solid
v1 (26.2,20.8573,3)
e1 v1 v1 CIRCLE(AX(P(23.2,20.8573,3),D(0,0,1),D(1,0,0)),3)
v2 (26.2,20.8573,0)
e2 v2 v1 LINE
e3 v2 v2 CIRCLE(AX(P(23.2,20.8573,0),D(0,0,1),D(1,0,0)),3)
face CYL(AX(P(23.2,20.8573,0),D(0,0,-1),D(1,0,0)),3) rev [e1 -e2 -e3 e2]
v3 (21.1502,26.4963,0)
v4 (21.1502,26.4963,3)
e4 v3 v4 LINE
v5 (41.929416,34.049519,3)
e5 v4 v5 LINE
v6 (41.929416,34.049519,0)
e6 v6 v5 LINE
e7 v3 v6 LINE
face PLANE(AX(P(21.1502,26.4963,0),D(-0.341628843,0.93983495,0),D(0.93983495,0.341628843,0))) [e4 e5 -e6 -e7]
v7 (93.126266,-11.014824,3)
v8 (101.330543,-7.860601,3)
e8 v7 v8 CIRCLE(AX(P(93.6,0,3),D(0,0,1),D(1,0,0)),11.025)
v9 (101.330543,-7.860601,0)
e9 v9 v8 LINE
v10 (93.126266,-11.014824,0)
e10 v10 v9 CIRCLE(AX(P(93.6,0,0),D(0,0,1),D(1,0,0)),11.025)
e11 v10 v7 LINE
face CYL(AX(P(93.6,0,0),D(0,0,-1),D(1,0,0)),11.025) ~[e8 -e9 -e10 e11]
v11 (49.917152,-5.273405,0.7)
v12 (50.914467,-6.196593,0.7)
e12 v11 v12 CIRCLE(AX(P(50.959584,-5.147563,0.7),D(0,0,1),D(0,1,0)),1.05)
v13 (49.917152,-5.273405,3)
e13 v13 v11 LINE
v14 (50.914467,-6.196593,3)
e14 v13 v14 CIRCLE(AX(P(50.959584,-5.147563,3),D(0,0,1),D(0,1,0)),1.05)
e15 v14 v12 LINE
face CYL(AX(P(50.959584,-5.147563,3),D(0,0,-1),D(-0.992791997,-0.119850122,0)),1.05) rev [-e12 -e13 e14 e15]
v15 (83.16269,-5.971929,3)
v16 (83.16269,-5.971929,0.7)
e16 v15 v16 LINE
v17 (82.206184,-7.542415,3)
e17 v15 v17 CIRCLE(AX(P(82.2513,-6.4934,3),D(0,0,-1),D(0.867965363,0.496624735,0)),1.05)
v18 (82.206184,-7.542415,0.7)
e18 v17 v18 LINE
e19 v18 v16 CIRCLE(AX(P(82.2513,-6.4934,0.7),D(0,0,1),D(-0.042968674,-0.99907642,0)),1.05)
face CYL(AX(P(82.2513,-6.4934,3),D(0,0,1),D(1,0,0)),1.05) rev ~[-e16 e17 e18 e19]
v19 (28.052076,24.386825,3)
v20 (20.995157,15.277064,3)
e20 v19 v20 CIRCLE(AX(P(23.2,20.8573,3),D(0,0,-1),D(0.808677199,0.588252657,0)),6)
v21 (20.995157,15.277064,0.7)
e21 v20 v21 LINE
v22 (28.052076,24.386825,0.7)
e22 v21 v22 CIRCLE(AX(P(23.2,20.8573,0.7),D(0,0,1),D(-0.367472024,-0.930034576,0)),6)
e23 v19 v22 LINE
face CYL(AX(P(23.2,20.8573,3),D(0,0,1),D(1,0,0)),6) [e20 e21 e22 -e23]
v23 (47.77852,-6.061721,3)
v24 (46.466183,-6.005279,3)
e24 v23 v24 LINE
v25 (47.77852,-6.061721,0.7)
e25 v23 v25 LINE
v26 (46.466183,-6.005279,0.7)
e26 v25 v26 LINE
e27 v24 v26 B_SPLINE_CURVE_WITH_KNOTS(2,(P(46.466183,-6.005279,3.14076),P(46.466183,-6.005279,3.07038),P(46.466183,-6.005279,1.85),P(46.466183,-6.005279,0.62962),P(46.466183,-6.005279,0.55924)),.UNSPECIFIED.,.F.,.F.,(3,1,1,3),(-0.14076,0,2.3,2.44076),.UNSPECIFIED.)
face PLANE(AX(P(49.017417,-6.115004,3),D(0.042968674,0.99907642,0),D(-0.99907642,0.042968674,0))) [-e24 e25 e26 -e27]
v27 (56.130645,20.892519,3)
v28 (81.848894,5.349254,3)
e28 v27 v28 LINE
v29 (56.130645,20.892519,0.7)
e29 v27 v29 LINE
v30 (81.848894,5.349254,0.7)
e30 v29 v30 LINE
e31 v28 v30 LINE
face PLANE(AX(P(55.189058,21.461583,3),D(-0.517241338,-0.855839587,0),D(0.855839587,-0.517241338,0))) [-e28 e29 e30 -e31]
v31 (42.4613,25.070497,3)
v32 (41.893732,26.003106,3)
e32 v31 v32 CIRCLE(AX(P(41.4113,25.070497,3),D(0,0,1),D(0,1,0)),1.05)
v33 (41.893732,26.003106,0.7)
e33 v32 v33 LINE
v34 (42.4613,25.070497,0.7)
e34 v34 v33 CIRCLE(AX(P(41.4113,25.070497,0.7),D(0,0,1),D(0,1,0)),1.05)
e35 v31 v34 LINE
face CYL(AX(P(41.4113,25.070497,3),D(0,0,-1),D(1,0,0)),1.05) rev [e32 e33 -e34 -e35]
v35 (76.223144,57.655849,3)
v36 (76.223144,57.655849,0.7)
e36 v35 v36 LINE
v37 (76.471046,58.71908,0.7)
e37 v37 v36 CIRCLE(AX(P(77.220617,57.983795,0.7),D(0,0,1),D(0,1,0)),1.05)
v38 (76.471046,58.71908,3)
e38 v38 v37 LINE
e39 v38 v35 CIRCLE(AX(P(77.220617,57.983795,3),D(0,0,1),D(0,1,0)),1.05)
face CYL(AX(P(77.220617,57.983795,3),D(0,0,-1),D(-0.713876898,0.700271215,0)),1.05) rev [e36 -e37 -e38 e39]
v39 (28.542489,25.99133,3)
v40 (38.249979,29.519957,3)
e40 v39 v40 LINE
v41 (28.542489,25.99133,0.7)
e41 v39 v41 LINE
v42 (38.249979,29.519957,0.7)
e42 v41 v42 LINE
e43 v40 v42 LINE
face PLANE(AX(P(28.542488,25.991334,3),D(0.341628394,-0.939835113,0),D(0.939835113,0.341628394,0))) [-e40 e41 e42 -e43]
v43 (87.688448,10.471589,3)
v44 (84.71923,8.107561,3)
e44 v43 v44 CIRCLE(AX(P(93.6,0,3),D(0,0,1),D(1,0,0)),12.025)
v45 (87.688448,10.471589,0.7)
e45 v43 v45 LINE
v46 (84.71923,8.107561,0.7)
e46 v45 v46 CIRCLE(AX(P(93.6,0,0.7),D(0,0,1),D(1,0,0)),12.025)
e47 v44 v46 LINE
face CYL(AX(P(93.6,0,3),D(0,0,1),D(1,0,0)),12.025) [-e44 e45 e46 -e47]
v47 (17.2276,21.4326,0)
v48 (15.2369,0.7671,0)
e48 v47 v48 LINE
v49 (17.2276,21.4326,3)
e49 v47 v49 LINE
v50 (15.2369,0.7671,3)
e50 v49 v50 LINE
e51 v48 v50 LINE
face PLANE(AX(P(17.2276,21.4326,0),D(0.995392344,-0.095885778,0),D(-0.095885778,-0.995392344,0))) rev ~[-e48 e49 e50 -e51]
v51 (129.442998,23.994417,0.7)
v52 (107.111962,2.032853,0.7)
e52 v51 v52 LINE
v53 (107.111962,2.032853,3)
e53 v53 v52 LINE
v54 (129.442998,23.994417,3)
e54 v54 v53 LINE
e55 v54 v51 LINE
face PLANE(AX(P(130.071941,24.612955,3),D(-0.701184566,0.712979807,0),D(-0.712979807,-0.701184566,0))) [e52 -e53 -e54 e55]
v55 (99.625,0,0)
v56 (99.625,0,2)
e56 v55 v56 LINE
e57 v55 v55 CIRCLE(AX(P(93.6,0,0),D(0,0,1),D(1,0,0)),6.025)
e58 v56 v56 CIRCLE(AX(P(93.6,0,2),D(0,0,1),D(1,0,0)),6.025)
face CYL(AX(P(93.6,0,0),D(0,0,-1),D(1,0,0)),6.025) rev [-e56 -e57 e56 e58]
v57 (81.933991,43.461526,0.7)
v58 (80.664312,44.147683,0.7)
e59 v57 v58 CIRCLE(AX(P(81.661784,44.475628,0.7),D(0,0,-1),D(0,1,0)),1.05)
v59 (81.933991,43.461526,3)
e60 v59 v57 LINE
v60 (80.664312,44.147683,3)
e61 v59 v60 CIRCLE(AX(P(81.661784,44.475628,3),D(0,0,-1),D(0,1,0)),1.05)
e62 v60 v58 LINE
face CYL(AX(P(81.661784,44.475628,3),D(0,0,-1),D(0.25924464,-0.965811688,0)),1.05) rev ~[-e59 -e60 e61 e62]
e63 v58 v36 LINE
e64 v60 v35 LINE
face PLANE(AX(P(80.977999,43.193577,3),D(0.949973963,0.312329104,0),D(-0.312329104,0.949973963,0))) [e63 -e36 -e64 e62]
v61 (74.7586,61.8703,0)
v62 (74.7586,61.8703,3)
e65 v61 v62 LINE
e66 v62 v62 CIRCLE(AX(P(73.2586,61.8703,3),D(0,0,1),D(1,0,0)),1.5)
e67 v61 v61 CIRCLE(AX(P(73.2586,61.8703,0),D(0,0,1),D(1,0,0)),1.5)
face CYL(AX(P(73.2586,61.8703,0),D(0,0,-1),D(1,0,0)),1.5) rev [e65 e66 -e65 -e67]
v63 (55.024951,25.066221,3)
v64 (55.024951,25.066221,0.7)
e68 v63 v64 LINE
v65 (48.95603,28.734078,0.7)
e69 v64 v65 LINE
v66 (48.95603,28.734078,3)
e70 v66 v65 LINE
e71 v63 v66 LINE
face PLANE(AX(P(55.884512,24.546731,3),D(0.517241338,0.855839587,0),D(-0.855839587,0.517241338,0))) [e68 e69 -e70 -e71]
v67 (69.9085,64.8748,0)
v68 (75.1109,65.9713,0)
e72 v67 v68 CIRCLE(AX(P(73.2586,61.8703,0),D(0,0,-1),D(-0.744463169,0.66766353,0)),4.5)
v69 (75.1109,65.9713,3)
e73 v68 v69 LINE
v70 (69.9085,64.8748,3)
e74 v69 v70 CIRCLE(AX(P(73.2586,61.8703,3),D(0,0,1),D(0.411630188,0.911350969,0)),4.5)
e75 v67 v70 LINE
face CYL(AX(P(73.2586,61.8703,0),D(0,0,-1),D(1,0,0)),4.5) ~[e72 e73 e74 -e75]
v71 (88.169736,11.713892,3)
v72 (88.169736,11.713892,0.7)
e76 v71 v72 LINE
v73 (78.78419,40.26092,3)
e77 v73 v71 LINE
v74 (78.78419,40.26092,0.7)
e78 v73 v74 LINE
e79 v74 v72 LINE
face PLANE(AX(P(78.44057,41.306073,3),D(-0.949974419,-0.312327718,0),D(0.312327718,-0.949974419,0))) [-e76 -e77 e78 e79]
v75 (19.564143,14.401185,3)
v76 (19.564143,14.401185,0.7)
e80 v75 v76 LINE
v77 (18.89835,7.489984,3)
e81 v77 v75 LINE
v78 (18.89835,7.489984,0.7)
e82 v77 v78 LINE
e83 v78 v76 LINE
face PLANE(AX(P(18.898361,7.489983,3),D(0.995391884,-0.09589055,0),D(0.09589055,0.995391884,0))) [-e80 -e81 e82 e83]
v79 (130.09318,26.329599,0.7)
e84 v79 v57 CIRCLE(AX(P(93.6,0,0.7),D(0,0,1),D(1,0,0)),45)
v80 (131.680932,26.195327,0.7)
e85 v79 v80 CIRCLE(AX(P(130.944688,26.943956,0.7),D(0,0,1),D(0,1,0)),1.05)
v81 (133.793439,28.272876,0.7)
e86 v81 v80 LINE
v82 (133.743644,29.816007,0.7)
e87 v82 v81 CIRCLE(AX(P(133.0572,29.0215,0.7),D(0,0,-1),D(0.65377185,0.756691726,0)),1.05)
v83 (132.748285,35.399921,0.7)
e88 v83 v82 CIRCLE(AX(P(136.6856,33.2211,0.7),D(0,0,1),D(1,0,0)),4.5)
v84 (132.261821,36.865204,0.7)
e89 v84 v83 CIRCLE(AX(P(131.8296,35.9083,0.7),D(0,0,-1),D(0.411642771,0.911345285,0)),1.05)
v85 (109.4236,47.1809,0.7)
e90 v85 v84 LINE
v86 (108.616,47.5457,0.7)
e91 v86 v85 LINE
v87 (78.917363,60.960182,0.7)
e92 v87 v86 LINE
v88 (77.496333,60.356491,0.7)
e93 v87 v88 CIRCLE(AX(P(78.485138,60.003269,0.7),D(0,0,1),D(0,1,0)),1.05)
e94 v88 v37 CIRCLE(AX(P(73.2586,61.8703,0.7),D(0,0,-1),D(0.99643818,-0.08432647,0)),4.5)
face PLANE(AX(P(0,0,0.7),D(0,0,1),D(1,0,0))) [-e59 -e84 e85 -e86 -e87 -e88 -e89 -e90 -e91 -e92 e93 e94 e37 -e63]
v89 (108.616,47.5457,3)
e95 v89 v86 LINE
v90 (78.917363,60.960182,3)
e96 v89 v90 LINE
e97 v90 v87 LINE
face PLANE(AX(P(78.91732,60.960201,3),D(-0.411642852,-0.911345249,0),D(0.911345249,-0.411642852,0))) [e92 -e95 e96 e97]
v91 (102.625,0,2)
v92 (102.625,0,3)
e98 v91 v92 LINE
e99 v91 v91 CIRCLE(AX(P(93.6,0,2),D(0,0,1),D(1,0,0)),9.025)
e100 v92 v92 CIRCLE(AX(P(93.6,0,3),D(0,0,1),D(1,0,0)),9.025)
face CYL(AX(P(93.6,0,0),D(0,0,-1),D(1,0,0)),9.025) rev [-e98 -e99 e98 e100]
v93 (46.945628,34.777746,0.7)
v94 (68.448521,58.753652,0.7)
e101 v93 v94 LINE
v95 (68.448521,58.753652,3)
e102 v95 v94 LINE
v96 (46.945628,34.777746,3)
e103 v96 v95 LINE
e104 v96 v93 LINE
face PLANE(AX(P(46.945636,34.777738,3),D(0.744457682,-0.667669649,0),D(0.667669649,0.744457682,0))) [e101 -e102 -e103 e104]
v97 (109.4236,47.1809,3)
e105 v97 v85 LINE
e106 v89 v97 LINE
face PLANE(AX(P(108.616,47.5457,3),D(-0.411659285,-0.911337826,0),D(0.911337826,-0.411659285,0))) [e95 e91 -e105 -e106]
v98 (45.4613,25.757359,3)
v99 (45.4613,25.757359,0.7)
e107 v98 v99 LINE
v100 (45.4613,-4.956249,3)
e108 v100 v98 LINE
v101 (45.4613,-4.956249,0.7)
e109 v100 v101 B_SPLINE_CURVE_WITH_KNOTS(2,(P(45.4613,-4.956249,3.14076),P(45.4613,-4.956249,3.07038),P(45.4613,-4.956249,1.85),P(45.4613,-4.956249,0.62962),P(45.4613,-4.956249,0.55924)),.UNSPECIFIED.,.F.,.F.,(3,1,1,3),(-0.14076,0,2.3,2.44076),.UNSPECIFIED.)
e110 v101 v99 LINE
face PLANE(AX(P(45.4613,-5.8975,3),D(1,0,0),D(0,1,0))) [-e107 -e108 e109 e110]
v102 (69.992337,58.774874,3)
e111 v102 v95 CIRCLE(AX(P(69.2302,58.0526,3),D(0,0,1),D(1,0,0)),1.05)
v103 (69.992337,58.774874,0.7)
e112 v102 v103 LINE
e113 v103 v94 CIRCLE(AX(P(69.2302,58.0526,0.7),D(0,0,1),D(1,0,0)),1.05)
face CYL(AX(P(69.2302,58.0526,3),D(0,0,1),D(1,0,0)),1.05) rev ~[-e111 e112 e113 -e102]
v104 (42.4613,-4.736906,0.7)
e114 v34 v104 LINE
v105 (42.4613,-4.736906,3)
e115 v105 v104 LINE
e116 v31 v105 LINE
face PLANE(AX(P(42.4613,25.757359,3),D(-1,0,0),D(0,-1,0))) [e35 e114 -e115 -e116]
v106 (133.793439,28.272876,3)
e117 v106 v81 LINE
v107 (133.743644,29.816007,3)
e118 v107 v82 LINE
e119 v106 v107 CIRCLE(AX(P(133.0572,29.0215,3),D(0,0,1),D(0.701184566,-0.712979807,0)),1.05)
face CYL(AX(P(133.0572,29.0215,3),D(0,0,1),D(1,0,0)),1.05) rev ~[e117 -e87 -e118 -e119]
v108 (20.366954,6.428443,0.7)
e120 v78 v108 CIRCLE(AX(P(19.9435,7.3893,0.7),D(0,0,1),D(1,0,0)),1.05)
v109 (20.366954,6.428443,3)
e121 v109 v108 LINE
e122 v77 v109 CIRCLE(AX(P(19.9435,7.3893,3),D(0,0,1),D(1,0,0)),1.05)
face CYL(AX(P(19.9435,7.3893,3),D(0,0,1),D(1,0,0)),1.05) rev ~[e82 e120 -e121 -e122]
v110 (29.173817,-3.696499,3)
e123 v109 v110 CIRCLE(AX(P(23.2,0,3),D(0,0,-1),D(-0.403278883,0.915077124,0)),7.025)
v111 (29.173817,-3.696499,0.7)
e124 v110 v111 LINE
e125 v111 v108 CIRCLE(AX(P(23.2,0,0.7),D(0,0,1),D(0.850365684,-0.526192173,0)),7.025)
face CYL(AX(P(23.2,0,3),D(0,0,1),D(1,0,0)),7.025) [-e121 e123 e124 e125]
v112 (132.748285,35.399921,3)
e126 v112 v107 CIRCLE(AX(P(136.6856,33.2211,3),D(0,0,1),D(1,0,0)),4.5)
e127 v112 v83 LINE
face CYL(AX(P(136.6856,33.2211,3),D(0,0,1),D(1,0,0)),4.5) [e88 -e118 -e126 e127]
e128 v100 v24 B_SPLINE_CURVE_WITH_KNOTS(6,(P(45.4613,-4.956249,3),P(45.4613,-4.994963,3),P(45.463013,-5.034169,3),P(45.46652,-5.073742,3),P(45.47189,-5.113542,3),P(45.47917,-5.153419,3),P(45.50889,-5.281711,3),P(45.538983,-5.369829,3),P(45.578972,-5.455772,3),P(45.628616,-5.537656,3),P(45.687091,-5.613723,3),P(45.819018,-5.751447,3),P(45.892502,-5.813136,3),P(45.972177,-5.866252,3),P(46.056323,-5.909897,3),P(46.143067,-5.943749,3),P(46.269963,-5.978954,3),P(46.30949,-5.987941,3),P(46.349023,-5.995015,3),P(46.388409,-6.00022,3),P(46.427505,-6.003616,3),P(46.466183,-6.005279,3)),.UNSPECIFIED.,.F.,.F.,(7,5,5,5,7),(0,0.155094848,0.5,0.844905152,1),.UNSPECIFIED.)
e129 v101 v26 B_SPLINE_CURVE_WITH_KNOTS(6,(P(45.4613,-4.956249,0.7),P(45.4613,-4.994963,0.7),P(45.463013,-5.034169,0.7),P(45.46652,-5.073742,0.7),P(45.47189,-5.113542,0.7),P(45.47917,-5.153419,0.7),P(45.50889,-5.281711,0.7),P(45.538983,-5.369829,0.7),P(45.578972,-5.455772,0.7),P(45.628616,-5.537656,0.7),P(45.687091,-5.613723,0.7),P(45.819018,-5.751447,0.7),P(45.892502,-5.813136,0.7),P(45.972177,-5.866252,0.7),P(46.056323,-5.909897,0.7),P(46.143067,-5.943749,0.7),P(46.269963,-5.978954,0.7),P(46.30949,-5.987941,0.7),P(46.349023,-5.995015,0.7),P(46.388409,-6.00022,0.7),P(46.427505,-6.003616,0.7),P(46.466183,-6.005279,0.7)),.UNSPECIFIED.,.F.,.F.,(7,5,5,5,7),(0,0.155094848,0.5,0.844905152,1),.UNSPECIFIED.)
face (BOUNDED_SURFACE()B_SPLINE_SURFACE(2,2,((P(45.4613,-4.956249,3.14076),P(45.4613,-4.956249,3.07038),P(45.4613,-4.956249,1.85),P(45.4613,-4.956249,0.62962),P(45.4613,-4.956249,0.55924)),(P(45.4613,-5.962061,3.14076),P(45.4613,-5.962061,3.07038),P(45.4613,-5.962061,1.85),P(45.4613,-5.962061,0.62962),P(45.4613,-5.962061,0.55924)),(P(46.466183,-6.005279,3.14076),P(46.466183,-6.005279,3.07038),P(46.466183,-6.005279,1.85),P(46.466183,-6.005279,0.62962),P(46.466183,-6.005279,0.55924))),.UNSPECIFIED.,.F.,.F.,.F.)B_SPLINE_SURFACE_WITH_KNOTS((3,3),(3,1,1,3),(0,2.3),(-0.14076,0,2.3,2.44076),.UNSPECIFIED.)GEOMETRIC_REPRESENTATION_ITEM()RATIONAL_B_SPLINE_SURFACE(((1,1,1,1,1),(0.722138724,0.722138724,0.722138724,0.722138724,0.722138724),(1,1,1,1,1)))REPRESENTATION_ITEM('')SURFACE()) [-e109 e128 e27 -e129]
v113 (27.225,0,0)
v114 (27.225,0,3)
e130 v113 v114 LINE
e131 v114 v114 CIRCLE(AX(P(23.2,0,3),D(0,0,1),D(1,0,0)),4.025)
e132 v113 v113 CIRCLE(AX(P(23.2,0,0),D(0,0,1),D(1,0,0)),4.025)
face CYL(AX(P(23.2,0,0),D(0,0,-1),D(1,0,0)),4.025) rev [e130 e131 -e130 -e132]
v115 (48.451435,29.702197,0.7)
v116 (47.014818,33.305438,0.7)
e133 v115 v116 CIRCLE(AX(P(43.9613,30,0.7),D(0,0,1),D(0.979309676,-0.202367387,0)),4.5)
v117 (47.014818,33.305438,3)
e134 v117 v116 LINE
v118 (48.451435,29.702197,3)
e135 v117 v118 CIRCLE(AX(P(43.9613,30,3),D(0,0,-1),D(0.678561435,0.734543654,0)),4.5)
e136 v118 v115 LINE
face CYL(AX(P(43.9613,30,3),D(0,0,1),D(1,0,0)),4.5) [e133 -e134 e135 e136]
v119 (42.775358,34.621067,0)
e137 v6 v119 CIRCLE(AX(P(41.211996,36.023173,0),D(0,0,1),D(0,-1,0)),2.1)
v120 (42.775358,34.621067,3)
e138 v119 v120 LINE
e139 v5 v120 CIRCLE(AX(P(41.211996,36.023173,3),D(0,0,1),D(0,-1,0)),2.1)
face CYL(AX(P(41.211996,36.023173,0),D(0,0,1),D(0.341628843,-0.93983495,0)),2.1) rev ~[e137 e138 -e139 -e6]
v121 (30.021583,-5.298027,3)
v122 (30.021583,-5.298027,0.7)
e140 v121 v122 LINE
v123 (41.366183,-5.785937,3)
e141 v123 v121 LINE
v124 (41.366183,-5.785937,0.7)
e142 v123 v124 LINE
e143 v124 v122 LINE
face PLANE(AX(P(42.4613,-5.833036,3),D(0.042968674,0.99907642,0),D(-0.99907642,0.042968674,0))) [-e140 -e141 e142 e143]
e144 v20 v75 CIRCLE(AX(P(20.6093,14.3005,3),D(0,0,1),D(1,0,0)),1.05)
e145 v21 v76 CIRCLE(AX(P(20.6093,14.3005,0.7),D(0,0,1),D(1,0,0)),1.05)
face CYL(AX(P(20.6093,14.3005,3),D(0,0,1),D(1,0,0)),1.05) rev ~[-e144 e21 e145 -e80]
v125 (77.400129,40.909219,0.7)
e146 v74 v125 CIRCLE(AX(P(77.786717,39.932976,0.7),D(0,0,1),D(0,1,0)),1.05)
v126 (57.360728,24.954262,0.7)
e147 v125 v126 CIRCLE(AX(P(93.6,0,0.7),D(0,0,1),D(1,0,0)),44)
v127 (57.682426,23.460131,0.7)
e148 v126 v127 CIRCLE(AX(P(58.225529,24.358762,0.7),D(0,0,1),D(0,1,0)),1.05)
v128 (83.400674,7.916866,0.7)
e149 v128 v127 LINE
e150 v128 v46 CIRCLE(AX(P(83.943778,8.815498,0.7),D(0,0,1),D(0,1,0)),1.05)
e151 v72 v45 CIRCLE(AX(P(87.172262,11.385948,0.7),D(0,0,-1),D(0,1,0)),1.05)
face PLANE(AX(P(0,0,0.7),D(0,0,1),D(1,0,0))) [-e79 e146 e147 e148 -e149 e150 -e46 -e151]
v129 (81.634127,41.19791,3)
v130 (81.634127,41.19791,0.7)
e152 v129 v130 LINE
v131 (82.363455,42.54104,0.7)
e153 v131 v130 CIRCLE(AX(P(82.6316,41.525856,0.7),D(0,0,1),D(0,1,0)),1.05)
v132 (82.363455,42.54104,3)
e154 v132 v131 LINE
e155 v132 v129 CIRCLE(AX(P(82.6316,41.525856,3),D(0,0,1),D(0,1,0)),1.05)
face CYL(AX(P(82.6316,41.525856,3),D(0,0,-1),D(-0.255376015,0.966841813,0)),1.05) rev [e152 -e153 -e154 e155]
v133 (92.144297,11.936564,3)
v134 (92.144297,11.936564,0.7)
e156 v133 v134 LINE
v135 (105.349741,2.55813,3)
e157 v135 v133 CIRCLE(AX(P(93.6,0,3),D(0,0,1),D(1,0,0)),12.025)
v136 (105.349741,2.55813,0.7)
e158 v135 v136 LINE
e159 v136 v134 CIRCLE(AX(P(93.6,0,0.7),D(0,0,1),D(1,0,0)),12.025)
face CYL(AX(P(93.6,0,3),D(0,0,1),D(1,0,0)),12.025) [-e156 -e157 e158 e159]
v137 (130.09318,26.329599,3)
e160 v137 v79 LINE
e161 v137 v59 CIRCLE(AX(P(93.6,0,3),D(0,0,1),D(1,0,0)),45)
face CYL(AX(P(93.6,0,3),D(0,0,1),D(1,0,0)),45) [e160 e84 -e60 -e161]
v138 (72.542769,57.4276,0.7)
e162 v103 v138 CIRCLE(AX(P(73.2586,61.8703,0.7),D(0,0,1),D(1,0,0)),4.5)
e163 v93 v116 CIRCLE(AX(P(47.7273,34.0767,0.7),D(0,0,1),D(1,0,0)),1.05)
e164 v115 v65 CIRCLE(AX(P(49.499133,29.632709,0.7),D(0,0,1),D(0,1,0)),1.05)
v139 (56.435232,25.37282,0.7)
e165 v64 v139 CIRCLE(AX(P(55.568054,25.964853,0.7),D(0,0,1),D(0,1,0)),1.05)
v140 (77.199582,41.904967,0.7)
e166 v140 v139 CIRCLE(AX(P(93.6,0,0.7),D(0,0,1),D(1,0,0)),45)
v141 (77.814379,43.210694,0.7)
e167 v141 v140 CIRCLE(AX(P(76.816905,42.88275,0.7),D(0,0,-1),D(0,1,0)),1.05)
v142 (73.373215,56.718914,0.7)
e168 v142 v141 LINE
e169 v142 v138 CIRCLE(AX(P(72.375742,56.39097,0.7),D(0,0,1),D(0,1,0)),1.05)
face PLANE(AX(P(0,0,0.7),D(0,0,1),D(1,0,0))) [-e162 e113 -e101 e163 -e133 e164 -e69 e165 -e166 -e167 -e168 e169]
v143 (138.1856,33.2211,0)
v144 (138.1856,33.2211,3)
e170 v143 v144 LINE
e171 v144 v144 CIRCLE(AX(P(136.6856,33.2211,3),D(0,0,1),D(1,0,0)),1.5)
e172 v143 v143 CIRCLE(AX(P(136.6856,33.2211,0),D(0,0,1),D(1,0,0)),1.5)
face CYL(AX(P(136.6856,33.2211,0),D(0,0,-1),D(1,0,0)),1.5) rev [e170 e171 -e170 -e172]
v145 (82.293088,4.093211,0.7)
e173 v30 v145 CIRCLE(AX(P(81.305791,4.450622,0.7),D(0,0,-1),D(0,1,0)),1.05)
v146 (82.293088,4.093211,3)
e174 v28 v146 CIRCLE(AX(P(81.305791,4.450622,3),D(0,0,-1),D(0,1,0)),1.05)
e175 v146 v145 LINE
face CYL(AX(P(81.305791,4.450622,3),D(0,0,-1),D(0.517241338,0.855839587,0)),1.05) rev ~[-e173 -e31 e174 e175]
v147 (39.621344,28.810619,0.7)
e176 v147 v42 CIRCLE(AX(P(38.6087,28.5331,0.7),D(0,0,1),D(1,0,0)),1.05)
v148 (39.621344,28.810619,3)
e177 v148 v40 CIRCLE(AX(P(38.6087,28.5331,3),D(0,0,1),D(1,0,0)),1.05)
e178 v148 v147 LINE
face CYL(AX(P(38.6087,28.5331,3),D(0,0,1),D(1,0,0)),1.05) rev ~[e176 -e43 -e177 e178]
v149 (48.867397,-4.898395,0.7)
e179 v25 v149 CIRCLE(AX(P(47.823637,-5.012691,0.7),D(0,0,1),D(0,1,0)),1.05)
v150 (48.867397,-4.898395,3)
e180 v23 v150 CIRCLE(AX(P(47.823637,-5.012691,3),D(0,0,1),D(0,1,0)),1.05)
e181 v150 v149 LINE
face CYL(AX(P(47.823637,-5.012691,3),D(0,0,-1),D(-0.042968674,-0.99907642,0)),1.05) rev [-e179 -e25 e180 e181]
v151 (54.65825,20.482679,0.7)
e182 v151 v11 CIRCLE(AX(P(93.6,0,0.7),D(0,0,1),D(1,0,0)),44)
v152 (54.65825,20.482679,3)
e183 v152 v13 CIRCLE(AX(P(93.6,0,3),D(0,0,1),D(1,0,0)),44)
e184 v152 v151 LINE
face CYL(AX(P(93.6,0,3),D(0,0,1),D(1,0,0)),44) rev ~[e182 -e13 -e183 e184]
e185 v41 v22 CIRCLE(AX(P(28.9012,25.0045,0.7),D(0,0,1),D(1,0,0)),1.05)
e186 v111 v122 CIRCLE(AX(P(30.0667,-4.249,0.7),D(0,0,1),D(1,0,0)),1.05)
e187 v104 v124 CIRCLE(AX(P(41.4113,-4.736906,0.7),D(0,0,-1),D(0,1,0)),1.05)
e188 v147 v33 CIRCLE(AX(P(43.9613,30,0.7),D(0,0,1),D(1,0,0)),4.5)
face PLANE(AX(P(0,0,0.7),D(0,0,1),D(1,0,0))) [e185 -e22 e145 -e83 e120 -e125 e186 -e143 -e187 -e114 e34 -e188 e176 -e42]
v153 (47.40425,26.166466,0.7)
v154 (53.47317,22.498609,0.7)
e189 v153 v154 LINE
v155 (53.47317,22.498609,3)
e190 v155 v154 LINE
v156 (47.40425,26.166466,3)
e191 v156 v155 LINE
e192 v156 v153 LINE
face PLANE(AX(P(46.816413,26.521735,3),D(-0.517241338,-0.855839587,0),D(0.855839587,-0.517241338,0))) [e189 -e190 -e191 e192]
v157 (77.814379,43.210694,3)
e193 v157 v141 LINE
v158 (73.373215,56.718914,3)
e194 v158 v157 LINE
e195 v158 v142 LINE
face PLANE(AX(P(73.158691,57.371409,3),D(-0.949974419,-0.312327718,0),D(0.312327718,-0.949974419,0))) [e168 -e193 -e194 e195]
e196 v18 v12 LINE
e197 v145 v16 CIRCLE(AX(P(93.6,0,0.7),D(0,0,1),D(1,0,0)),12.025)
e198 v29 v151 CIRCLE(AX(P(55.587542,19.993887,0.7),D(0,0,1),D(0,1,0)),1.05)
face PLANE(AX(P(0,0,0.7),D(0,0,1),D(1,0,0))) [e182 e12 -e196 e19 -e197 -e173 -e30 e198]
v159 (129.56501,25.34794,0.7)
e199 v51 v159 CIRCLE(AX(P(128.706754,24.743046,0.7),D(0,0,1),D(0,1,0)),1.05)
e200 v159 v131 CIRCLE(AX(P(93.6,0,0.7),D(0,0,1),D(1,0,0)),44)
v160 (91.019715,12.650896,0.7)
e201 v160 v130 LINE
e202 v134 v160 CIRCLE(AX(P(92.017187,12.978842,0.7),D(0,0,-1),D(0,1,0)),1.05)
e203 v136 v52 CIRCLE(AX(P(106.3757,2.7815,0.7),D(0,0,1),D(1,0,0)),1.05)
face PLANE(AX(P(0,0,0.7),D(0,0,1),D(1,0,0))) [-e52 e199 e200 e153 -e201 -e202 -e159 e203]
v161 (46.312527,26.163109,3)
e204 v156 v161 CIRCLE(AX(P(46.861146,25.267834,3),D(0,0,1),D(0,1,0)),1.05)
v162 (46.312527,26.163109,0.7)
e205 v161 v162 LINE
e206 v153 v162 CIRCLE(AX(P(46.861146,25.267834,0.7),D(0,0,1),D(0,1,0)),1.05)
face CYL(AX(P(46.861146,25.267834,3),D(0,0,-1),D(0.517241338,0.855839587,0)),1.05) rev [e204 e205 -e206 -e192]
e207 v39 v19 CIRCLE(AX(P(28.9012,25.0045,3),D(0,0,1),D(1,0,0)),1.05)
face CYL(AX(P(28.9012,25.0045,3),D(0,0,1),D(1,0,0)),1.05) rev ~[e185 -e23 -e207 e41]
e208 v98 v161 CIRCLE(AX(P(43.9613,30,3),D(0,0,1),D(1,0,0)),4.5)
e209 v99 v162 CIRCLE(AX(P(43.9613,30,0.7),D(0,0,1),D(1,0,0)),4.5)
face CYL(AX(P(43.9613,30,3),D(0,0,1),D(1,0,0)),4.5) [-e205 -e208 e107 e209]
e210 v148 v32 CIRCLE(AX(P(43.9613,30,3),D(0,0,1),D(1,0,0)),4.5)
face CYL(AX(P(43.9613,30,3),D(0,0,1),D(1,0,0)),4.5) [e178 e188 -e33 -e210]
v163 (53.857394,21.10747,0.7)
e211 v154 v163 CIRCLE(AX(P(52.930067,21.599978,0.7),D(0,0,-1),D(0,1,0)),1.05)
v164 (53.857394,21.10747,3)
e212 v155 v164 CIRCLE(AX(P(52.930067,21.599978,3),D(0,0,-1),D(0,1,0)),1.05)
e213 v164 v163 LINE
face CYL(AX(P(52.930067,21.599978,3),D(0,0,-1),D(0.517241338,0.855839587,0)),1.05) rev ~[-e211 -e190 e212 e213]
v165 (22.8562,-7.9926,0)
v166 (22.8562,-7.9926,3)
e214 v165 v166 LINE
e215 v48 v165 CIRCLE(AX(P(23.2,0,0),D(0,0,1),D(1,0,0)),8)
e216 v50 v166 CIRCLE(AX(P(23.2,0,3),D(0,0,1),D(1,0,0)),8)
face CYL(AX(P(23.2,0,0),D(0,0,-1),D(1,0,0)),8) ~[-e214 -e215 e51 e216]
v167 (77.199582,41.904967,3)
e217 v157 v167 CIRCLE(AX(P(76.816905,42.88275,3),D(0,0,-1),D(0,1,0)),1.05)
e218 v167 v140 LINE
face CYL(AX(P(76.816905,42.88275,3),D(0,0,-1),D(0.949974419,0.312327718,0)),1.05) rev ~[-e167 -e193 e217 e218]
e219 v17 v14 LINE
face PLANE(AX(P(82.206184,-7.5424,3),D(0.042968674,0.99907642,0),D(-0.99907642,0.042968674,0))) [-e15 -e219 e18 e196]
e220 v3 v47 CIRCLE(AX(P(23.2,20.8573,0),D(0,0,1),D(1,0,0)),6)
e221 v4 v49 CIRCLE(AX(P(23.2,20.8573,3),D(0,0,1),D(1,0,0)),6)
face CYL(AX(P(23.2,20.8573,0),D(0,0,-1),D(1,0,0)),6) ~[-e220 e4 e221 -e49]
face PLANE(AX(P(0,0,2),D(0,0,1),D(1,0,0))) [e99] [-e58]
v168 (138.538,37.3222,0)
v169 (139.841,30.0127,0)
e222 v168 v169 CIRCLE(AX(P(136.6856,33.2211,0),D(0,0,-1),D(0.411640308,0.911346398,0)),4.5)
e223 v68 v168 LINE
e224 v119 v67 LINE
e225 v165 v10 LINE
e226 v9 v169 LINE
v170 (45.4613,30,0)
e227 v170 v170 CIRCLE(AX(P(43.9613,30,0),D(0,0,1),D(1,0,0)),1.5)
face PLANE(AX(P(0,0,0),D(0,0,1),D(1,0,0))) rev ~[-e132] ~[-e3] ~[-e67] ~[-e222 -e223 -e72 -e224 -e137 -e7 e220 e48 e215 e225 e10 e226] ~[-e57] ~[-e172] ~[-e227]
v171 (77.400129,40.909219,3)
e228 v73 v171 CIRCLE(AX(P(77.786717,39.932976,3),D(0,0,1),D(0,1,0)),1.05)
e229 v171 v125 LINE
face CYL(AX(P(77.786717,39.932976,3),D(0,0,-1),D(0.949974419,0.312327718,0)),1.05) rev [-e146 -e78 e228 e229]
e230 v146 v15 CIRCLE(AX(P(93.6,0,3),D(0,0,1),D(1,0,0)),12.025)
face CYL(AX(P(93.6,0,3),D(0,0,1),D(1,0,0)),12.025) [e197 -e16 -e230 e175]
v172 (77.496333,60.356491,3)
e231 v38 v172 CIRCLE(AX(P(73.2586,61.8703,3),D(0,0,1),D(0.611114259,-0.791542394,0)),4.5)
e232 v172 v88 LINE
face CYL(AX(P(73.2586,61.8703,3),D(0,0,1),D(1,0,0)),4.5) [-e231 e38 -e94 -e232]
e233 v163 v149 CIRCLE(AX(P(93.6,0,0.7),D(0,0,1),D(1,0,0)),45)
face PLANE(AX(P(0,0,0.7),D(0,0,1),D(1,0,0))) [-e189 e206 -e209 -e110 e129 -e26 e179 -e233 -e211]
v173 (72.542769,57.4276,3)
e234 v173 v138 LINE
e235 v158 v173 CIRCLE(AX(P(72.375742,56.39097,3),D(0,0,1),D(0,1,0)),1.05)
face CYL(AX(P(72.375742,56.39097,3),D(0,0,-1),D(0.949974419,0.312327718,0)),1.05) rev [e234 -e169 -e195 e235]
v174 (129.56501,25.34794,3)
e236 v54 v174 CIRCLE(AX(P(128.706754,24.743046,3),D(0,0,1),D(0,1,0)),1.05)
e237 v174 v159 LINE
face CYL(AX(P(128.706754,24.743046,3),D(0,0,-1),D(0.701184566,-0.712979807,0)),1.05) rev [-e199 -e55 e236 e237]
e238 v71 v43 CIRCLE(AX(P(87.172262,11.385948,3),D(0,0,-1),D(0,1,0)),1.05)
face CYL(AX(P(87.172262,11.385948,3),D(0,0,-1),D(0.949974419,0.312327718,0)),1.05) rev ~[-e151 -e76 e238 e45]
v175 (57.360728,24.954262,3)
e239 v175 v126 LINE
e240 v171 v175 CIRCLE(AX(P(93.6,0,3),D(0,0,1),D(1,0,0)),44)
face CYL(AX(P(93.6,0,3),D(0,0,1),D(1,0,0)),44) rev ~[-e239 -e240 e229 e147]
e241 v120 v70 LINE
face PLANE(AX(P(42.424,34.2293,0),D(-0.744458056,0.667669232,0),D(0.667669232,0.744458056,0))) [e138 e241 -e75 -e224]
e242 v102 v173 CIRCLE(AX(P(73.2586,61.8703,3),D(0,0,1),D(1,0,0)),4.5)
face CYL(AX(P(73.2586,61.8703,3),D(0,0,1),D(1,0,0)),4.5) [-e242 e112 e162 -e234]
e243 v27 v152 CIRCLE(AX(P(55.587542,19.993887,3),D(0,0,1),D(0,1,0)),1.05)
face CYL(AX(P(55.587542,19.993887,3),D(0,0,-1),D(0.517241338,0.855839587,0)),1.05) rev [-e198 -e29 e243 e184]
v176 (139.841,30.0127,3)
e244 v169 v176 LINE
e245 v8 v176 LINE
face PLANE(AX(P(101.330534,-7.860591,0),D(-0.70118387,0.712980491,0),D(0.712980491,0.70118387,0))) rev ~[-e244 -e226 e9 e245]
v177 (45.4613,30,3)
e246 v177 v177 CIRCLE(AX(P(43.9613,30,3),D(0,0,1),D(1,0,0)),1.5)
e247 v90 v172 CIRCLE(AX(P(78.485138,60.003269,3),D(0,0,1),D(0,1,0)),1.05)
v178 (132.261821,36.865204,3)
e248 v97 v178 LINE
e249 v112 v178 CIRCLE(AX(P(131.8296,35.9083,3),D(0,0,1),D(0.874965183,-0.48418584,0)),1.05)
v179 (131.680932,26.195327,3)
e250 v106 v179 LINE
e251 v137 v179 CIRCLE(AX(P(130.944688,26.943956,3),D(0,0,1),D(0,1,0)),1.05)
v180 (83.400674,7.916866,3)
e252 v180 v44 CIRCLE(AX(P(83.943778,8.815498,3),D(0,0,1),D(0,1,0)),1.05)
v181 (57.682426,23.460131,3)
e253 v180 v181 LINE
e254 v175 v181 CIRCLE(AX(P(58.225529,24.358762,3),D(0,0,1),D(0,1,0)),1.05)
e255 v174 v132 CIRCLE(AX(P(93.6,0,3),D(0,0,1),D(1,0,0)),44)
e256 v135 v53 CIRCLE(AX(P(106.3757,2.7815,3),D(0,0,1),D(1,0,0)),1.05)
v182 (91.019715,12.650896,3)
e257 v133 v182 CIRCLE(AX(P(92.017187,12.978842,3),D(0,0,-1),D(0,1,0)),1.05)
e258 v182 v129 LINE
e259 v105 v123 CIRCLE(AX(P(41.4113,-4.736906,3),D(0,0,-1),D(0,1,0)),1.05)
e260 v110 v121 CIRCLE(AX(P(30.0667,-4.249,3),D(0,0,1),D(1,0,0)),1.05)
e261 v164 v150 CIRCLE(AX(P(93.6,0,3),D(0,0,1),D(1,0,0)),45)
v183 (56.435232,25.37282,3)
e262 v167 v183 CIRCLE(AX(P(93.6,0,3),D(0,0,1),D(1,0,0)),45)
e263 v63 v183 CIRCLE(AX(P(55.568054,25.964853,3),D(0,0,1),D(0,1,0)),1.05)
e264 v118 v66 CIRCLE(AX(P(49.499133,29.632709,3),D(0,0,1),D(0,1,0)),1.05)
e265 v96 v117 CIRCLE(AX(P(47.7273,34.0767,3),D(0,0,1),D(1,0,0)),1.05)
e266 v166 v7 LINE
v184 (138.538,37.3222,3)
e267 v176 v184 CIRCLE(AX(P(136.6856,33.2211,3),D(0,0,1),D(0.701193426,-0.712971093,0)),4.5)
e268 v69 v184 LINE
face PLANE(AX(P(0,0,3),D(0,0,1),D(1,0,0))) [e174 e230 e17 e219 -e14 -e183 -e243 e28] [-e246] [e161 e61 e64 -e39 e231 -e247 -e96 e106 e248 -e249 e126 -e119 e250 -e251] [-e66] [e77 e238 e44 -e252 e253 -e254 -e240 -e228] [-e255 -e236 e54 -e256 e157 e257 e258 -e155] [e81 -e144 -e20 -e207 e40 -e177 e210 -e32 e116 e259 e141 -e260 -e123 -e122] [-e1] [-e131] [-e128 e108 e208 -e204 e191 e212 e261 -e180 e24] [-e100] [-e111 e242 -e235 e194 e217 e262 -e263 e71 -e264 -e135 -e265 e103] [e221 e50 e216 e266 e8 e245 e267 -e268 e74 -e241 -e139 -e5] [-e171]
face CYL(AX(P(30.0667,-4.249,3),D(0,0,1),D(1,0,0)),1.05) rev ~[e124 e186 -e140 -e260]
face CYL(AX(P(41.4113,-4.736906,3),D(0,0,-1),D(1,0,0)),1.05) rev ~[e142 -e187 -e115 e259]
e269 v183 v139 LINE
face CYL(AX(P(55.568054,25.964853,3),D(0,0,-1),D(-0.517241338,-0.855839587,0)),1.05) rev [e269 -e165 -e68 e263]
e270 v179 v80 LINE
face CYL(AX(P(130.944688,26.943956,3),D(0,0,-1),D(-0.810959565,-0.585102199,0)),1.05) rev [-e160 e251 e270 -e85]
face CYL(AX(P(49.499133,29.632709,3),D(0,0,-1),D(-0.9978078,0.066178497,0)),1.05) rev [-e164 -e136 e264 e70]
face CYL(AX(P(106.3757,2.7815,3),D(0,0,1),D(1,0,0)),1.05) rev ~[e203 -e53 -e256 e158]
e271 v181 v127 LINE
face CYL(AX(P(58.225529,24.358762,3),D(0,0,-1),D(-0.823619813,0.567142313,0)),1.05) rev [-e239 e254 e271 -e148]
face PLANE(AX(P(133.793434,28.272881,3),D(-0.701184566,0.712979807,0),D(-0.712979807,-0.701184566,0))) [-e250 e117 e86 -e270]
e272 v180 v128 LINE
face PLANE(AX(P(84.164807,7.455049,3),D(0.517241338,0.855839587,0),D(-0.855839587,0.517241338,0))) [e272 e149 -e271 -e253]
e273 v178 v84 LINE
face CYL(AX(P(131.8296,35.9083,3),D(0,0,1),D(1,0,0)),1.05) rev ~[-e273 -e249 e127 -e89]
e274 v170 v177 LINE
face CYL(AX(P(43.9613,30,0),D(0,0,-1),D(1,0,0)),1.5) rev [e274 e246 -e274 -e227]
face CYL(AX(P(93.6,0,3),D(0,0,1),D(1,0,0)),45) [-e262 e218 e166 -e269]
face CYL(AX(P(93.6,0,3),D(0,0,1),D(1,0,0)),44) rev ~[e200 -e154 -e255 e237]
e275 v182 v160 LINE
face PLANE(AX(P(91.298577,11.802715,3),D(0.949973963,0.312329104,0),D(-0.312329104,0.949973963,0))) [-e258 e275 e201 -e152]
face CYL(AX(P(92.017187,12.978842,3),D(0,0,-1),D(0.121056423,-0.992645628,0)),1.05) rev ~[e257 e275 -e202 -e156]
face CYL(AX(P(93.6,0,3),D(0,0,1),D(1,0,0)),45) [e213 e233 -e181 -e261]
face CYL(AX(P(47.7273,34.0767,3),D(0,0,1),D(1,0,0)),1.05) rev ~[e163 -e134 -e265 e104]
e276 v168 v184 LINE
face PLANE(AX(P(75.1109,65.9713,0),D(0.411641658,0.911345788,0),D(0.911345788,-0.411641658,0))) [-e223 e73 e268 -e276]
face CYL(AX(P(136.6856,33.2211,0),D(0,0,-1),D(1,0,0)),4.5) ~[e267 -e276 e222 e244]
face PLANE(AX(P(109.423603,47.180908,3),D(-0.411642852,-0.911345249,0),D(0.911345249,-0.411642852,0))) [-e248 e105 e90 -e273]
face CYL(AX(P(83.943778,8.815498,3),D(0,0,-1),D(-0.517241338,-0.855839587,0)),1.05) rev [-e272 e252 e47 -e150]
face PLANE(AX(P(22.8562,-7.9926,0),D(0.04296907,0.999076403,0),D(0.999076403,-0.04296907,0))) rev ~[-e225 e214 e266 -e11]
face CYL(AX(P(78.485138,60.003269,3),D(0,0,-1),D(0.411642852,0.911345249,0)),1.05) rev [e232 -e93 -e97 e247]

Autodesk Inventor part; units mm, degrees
ref_plane "YZ Plane" through (0, 0, 0) normal (1, 0, 0) x (0, 1, 0)
ref_plane "XZ Plane" through (0, 0, 0) normal (0, 1, 0) x (-1, 0, 0)
ref_plane "XY Plane" through (0, 0, 0) normal (0, 0, 1) x (1, 0, 0)
sketch "スケッチ1" plane through (0, 0, 0) normal (0, 0, 1) x (1, 0, 0)
  circle A0 centre (73.2586, 61.8703) radius 1.5
  circle A1 centre (136.6856, 33.2211) radius 1.5
  circle A2 centre (93.6, 0) radius 9.025
  circle A3 centre (43.9613, 30) radius 1.5
  circle A4 centre (73.2586, 61.8703) radius 1.5
  circle A5 centre (136.6856, 33.2211) radius 1.5
  circle A6 centre (93.6, 0) radius 6.025
  circle A7 centre (43.9613, 30) radius 1.5
  circle A8 centre (23.2, 0) radius 4.025
  circle A9 centre (23.2, 0) radius 5
  circle A10 centre (23.2, 20.8573) radius 3
  circle A11 centre (73.2586, 61.8703) radius 4.5
  circle A12 centre (136.6856, 33.2211) radius 4.5
  circle A13 centre (43.9613, 30) radius 4.5
  circle A14 centre (23.2, 20.8573) radius 6
  circle A15 centre (23.2, 0) radius 8
  line L0 (17.2276, 21.4326) -> (15.2369, 0.7671)
  line L1 (22.8562, -7.9926) -> (94.1672, -11.0596)
  line L2 (100.9543, -8.2306) -> (139.841, 30.0127)
  line L3 (75.1109, 65.9713) -> (138.538, 37.3222)
  line L4 (21.1502, 26.4963) -> (42.424, 34.2293)
  line L5 (42.424, 34.2293) -> (69.9085, 64.8748)
  circle A16 centre (93.6, 0) radius 11.025
  line L6 (72.6754, 67.0714) -> (140.5934, 36.3938) construction
  line L7 (70.544, 65.4593) -> (72.6754, 67.0714)
  line L8 (140.5934, 36.3938) -> (141.0798, 34.1916) construction
  line L9 (56.2506, 71.8837) -> (155.5887, 40.928) construction
  line L10 (141.1856, 33.2211) -> (141.1856, 45.4163) construction
  line L11 (122.4554, 48.6344) -> (138.6856, 43.5768) construction
  line L12 (121.7116, 46.2476) -> (137.9419, 41.19) construction
  line L13 (139.4294, 45.9636) -> (123.1992, 51.0212) construction
  arc A17 (123.1992, 51.0212) -> (121.7116, 46.2476) centre (122.4554, 48.6344) ccw construction
  arc A18 (137.9419, 41.19) -> (139.4294, 45.9636) centre (138.6856, 43.5768) ccw construction
  circle A19 centre (122.4554, 48.6344) radius 1.5 construction
  circle A20 centre (138.6856, 43.5768) radius 1.5 construction
  point P0 (0, 0)
  point P1 (0, 0)
  point P2 (0, 0)
  point P3 (101.3306, -7.8606)
  point P4 (93.1263, -11.0148)
  point P5 (130.5705, 46.1056)
  point P6 (74.8601, 66.0846)
  point P7 (141.1856, 43.5768)
  dimension "d14" = 3
  dimension "d15" = 3
  dimension "d16" = 3
  dimension "d17" = 18.05
  dimension "d19" = 8.05
  dimension "d27" = 6
  dimension "d29" = 3
  dimension "d30" = 3
  dimension "d31" = 3
  dimension "d32" = 3
  dimension "d33" = 3
  dimension "d34" = 12.05
  dimension "d35" = 2
  dimension "d75" = 0
  dimension "d84" = 7
  dimension "d85" = 17
  dimension "d86" = 5
  dimension "d87" = 3
  dimension "d88" = 3
extrude "押し出し4" add sketch "スケッチ1" along normal blind 3 contours A9 | A11 | A13 | A11 L3 A12 L2 A16 L1 A15 L0 A14 L4 L5 | A12 | A14 | A16 | A15
extrude "押し出し5" add sketch "スケッチ1" along normal blind 2 contours A2 | A9
sketch "スケッチ3" plane through (0, 0, 3) normal (0, 0, 1) x (1, 0, 0)
  circle A0 centre (93.6, 0) radius 9.025 projected
  line L0 (42.424, 34.2293) -> (21.1502, 26.4963) projected
  arc A1 (21.1502, 26.4963) -> (17.2276, 21.4326) centre (23.2, 20.8573) ccw projected
  line L1 (17.2276, 21.4326) -> (15.2369, 0.7671) projected
  arc A2 (15.2369, 0.7671) -> (22.8562, -7.9926) centre (23.2, 0) ccw projected
  line L2 (22.8562, -7.9926) -> (93.1263, -11.0148) projected
  arc A3 (93.1263, -11.0148) -> (101.3306, -7.8606) centre (93.6, 0) ccw projected
  line L3 (101.3306, -7.8606) -> (139.841, 30.0127) projected
  arc A4 (139.841, 30.0127) -> (138.538, 37.3222) centre (136.6856, 33.2211) ccw projected
  arc A5 (75.1109, 65.9713) -> (69.9085, 64.8748) centre (73.2586, 61.8703) ccw projected
  line L4 (69.9085, 64.8748) -> (42.424, 34.2293) projected
  circle A6 centre (23.2, 0) radius 4.025 projected
  circle A7 centre (23.2, 20.8573) radius 3 projected
  circle A8 centre (43.9613, 30) radius 1.5 projected
  circle A9 centre (73.2586, 61.8703) radius 1.5 projected
  circle A10 centre (136.6856, 33.2211) radius 1.5 projected
  circle A11 centre (93.6, 0) radius 9.025 projected
  circle A12 centre (23.2, 20.8573) radius 6
  circle A13 centre (23.2, 0) radius 7.025
  circle A14 centre (43.9613, 30) radius 4.5
  circle A15 centre (73.2586, 61.8703) radius 4.5
  circle A16 centre (136.6856, 33.2211) radius 4.5
  circle A17 centre (93.6, 0) radius 12.025
  arc A18 (23.2, 1.5) -> (23.2, -1.5) centre (23.2, 0) ccw
  arc A19 (93.6, -1.5) -> (93.6, 1.5) centre (93.6, 0) ccw
  arc A20 (93.1739, -1.4382) -> (94.0261, 1.4382) centre (93.6, 0) ccw
  arc A21 (23.6261, 22.2955) -> (22.7739, 19.4191) centre (23.2, 20.8573) ccw
  line L5 (93.6, 0) -> (43.9613, 30) construction
  line L6 (94.3759, 1.2838) -> (44.7372, 31.2838)
  line L7 (43.1854, 28.7162) -> (92.8241, -1.2838)
  arc A22 (92.8241, -1.2838) -> (94.3759, 1.2838) centre (93.6, 0) ccw
  arc A23 (44.7372, 31.2838) -> (43.1854, 28.7162) centre (43.9613, 30) ccw
  line L8 (93.6, 0) -> (73.2586, 61.8703) construction
  line L9 (95.025, 0.4685) -> (74.6835, 62.3388)
  line L10 (71.8336, 61.4018) -> (92.175, -0.4685)
  arc A24 (92.175, -0.4685) -> (95.025, 0.4685) centre (93.6, 0) ccw
  arc A25 (74.6835, 62.3388) -> (71.8336, 61.4018) centre (73.2586, 61.8703) ccw
  arc A26 (92.6841, 1.1879) -> (94.5159, -1.1879) centre (93.6, 0) ccw
  arc A27 (137.6016, 32.0332) -> (135.7697, 34.409) centre (136.6856, 33.2211) ccw
  arc A28 (21.7, 0) -> (24.7, 0) centre (23.2, 0) ccw
  arc A29 (24.7, 20.8573) -> (21.7, 20.8573) centre (23.2, 20.8573) ccw
  arc A30 (22.5955, 22.2301) -> (23.8045, 19.4845) centre (23.2, 20.8573) ccw
  arc A31 (44.5658, 28.6272) -> (43.3568, 31.3728) centre (43.9613, 30) ccw
  arc A32 (42.857, 31.0151) -> (45.0656, 28.9849) centre (43.9613, 30) ccw
  arc A33 (74.3629, 60.8551) -> (72.1543, 62.8854) centre (73.2586, 61.8703) ccw
  arc A34 (73.876, 63.2373) -> (72.6411, 60.5032) centre (73.2586, 61.8703) ccw
  arc A35 (136.0682, 31.8541) -> (137.3031, 34.5881) centre (136.6856, 33.2211) ccw
  circle A36 centre (82.2513, -6.4934) radius 1.05
  line L11 (73.876, 63.2373) -> (137.3031, 34.5881)
  arc A37 (137.7374, 32.1516) -> (137.3031, 34.5881) centre (136.6856, 33.2211) ccw
  line L12 (137.7374, 32.1516) -> (99.227, -5.7217)
  arc A38 (93.2552, -8.0176) -> (99.227, -5.7217) centre (93.6, 0) ccw
  line L13 (93.2552, -8.0176) -> (22.9852, -4.9954)
  arc A39 (18.223, 0.4794) -> (22.9852, -4.9954) centre (23.2, 0) ccw
  line L14 (18.223, 0.4794) -> (20.2138, 21.1449)
  arc A40 (22.1751, 23.6768) -> (20.2138, 21.1449) centre (23.2, 20.8573) ccw
  line L15 (22.1751, 23.6768) -> (44.1554, 31.6666)
  line L16 (44.1554, 31.6666) -> (72.1419, 62.8718)
  arc A41 (73.876, 63.2373) -> (72.1419, 62.8718) centre (73.2586, 61.8703) ccw
  circle A42 centre (30.0667, -4.249) radius 1.05
  circle A43 centre (19.9435, 7.3893) radius 1.05
  circle A44 centre (20.6093, 14.3005) radius 1.05
  circle A45 centre (28.9012, 25.0045) radius 1.05
  circle A46 centre (38.6087, 28.5331) radius 1.05
  circle A47 centre (47.7273, 34.0767) radius 1.05
  circle A48 centre (69.2302, 58.0526) radius 1.05
  circle A49 centre (78.4851, 60.0033) radius 1.05
  circle A50 centre (131.8296, 35.9083) radius 1.05
  circle A51 centre (133.0572, 29.0215) radius 1.05
  circle A52 centre (106.3757, 2.7815) radius 1.05
  line L17 (43.9613, 30) -> (43.9613, -5.8975) construction
  line L18 (42.4613, 30) -> (42.4613, -5.8975)
  line L19 (45.4613, -5.8975) -> (45.4613, 30)
  arc A53 (45.4613, 30) -> (42.4613, 30) centre (43.9613, 30) ccw
  arc A54 (42.4613, -5.8975) -> (45.4613, -5.8975) centre (43.9613, -5.8975) ccw
  circle A55 centre (93.6, 0) radius 45
  circle A56 centre (93.6, 0) radius 44
  line L20 (73.0642, 63.604) -> (137.9882, 34.2787)
  line L21 (137.9882, 34.2787) -> (138.1503, 33.5446)
  arc A57 (137.7374, 32.1516) -> (138.1503, 33.5446) centre (136.6856, 33.2211) ccw
  line L22 (137.7374, 32.1516) -> (99.227, -5.7217)
  arc A58 (93.2552, -8.0176) -> (99.227, -5.7217) centre (93.6, 0) ccw
  line L23 (93.2552, -8.0176) -> (22.9852, -4.9954)
  arc A59 (18.223, 0.4794) -> (22.9852, -4.9954) centre (23.2, 0) ccw
  line L24 (18.223, 0.4794) -> (20.2138, 21.1449)
  arc A60 (22.1751, 23.6768) -> (20.2138, 21.1449) centre (23.2, 20.8573) ccw
  line L25 (22.1751, 23.6768) -> (44.1554, 31.6666)
  line L26 (44.1554, 31.6666) -> (72.1419, 62.8718)
  arc A61 (72.3537, 63.0666) -> (72.1419, 62.8718) centre (73.2586, 61.8703) ccw
  line L27 (72.3537, 63.0666) -> (73.0642, 63.604)
  line L28 (108.616, 47.5457) -> (109.4236, 47.1809)
  line L29 (138.538, 37.3222) -> (75.1109, 65.9713) projected
  point P0 (0, 0)
  point P1 (58.4, 0)
  point P2 (68.7807, 15)
  point P3 (83.4293, 30.9351)
  point P4 (23.2, 10.4286)
  point P5 (33.5807, 25.4286)
  point P6 (58.6099, 45.9351)
  point P7 (104.9721, 47.5457)
  point P8 (76.0086, 58.3084)
  point P9 (91.2985, 11.8027)
  point P10 (48.3682, 29.0893)
  point P11 (84.1648, 7.455)
  point P12 (88.4486, 10.8657)
  point P13 (73.1587, 57.3714)
  point P14 (46.8165, 26.5218)
  point P15 (105.6121, 0.5578)
  point P16 (134.7125, 29.1768)
  point P17 (133.4366, 36.3346)
  point P18 (77.7425, 61.4908)
  point P19 (69.3092, 59.7133)
  point P20 (46.1746, 33.9181)
  point P21 (39.4615, 29.9603)
  point P22 (27.0586, 25.4519)
  point P23 (19.7156, 15.9727)
  point P24 (18.6962, 5.3913)
  point P25 (27.9152, -5.2074)
  point P26 (84.308, -7.6328)
  point P27 (20.9952, 15.2771)
  point P28 (19.5642, 14.4012)
  point P29 (18.8984, 7.4899)
  point P30 (20.367, 6.4284)
  point P31 (29.1738, -3.6965)
  point P32 (30.0216, -5.298)
  point P33 (82.2062, -7.5424)
  point P34 (83.1627, -5.9719)
  point P35 (38.25, 29.52)
  point P36 (28.5425, 25.9913)
  point P37 (28.0521, 24.3868)
  point P38 (39.6213, 28.8106)
  point P39 (68.4485, 58.7536)
  point P40 (46.9457, 34.7777)
  point P41 (47.0149, 33.3054)
  point P42 (69.9923, 58.7748)
  point P43 (107.112, 2.0328)
  point P44 (133.7934, 28.2729)
  point P45 (133.7436, 29.816)
  point P46 (132.7483, 35.3999)
  point P47 (132.2618, 36.8652)
  point P48 (78.9173, 60.9602)
  point P49 (77.4963, 60.3565)
  point P50 (105.3498, 2.5581)
  point P51 (43.9613, 12.0512)
  point P52 (45.4599, -5.962)
  point P53 (82.613, 4.8875)
  point P54 (45.4613, 25.7574)
  point P55 (42.4613, -5.833)
  point P56 (42.4613, 25.7574)
  point P57 (78.4406, 41.3061)
  point P58 (56.7408, 24.0292)
  point P59 (49.0174, -6.115)
  point P60 (54.3328, 21.9792)
  point P61 (55.1891, 21.4616)
  point P62 (50.0331, -6.1587)
  point P63 (80.978, 43.1936)
  point P64 (130.7968, 25.3258)
  point P65 (130.0719, 24.613)
  point P66 (81.2905, 42.2431)
  point P67 (55.8845, 24.5467)
  point P68 (78.1281, 42.2566)
  point P69 (75.7375, 65.6259)
  point P70 (69.3092, 59.7133)
  point P71 (77.7425, 61.4908)
  dimension "d37" = 3
  dimension "d38" = 3
  dimension "d39" = 3
  dimension "d40" = 3
  dimension "d41" = 3
  dimension "d42" = 3
  dimension "d43" = 3
  dimension "d44" = 3
  dimension "d45" = 3
  dimension "d46" = 3
  dimension "d47" = 3
  dimension "d48" = 3
  dimension "d49" = 3
  dimension "d50" = 3
  dimension "d51" = 3
  dimension "d53" = 2.1
  dimension "d59" = 2.1
  dimension "d60" = 2.1
  dimension "d61" = 2.1
  dimension "d62" = 2.1
  dimension "d64" = 2.1
  dimension "d65" = 2.1
  dimension "d66" = 2.1
  dimension "d67" = 2.1
  dimension "d68" = 2.1
  dimension "d69" = 2.1
  dimension "d70" = 2.1
  dimension "d72" = 1.5
  dimension "d73" = 90
  dimension "d74" = 1
fillet "フィレット4" radius 2.1 1 edges at (42.424, 34.2293, 1.5)
extrude "押し出し9" cut sketch "スケッチ3" against normal blind 2.3 contours L9 A56 L12 A52 A17 | A17 L6 A56 L10 | A52 | L9 A15 A49 L11 A50 A16 A51 L12 A55 | A17 A36 L13 A56 L7 | A36 | A55 L6 A14 A47 L16 A48 A15 L10 | A15 L11 A49 | A49 | A51 | A55 L13 A54 L19 A14 L7 | A48 | A50 | L13 A42 A13 A43 L14 A44 A12 A45 L15 A46 A14 L18 | A47 | A42 | A46 | A44 | A7 | A45 | A43
fillet "フィレット5" radius 1.05 24 edges at (46.8165, 26.5218, 1.85) (48.3682, 29.0893, 1.85) (73.1587, 57.3714, 1.85) (76.0086, 58.3084, 1.85) (84.1648, 7.455, 1.85) (88.4486, 10.8657, 1.85) (91.2985, 11.8027, 1.85) (42.4613, -5.833, 1.85) (45.4599, -5.962, 1.85) (42.4613, 25.7574, 1.85) (82.613, 4.8875, 1.85) (49.0174, -6.115, 1.85) (50.0331, -6.1587, 1.85) (55.8845, 24.5467, 1.85) (54.3328, 21.9792, 1.85) (55.1891, 21.4616, 1.85) (56.7408, 24.0292, 1.85) (78.1281, 42.2566, 1.85) (78.4406, 41.3061, 1.85) (80.978, 43.1936, 1.85) (81.2905, 42.2431, 1.85) (130.7968, 25.3258, 1.85) (130.0719, 24.613, 1.85) (77.7425, 61.4908, 1.85)
properties part number "脚フレーム外側後" material "ポリカーボネート、スモーク"
